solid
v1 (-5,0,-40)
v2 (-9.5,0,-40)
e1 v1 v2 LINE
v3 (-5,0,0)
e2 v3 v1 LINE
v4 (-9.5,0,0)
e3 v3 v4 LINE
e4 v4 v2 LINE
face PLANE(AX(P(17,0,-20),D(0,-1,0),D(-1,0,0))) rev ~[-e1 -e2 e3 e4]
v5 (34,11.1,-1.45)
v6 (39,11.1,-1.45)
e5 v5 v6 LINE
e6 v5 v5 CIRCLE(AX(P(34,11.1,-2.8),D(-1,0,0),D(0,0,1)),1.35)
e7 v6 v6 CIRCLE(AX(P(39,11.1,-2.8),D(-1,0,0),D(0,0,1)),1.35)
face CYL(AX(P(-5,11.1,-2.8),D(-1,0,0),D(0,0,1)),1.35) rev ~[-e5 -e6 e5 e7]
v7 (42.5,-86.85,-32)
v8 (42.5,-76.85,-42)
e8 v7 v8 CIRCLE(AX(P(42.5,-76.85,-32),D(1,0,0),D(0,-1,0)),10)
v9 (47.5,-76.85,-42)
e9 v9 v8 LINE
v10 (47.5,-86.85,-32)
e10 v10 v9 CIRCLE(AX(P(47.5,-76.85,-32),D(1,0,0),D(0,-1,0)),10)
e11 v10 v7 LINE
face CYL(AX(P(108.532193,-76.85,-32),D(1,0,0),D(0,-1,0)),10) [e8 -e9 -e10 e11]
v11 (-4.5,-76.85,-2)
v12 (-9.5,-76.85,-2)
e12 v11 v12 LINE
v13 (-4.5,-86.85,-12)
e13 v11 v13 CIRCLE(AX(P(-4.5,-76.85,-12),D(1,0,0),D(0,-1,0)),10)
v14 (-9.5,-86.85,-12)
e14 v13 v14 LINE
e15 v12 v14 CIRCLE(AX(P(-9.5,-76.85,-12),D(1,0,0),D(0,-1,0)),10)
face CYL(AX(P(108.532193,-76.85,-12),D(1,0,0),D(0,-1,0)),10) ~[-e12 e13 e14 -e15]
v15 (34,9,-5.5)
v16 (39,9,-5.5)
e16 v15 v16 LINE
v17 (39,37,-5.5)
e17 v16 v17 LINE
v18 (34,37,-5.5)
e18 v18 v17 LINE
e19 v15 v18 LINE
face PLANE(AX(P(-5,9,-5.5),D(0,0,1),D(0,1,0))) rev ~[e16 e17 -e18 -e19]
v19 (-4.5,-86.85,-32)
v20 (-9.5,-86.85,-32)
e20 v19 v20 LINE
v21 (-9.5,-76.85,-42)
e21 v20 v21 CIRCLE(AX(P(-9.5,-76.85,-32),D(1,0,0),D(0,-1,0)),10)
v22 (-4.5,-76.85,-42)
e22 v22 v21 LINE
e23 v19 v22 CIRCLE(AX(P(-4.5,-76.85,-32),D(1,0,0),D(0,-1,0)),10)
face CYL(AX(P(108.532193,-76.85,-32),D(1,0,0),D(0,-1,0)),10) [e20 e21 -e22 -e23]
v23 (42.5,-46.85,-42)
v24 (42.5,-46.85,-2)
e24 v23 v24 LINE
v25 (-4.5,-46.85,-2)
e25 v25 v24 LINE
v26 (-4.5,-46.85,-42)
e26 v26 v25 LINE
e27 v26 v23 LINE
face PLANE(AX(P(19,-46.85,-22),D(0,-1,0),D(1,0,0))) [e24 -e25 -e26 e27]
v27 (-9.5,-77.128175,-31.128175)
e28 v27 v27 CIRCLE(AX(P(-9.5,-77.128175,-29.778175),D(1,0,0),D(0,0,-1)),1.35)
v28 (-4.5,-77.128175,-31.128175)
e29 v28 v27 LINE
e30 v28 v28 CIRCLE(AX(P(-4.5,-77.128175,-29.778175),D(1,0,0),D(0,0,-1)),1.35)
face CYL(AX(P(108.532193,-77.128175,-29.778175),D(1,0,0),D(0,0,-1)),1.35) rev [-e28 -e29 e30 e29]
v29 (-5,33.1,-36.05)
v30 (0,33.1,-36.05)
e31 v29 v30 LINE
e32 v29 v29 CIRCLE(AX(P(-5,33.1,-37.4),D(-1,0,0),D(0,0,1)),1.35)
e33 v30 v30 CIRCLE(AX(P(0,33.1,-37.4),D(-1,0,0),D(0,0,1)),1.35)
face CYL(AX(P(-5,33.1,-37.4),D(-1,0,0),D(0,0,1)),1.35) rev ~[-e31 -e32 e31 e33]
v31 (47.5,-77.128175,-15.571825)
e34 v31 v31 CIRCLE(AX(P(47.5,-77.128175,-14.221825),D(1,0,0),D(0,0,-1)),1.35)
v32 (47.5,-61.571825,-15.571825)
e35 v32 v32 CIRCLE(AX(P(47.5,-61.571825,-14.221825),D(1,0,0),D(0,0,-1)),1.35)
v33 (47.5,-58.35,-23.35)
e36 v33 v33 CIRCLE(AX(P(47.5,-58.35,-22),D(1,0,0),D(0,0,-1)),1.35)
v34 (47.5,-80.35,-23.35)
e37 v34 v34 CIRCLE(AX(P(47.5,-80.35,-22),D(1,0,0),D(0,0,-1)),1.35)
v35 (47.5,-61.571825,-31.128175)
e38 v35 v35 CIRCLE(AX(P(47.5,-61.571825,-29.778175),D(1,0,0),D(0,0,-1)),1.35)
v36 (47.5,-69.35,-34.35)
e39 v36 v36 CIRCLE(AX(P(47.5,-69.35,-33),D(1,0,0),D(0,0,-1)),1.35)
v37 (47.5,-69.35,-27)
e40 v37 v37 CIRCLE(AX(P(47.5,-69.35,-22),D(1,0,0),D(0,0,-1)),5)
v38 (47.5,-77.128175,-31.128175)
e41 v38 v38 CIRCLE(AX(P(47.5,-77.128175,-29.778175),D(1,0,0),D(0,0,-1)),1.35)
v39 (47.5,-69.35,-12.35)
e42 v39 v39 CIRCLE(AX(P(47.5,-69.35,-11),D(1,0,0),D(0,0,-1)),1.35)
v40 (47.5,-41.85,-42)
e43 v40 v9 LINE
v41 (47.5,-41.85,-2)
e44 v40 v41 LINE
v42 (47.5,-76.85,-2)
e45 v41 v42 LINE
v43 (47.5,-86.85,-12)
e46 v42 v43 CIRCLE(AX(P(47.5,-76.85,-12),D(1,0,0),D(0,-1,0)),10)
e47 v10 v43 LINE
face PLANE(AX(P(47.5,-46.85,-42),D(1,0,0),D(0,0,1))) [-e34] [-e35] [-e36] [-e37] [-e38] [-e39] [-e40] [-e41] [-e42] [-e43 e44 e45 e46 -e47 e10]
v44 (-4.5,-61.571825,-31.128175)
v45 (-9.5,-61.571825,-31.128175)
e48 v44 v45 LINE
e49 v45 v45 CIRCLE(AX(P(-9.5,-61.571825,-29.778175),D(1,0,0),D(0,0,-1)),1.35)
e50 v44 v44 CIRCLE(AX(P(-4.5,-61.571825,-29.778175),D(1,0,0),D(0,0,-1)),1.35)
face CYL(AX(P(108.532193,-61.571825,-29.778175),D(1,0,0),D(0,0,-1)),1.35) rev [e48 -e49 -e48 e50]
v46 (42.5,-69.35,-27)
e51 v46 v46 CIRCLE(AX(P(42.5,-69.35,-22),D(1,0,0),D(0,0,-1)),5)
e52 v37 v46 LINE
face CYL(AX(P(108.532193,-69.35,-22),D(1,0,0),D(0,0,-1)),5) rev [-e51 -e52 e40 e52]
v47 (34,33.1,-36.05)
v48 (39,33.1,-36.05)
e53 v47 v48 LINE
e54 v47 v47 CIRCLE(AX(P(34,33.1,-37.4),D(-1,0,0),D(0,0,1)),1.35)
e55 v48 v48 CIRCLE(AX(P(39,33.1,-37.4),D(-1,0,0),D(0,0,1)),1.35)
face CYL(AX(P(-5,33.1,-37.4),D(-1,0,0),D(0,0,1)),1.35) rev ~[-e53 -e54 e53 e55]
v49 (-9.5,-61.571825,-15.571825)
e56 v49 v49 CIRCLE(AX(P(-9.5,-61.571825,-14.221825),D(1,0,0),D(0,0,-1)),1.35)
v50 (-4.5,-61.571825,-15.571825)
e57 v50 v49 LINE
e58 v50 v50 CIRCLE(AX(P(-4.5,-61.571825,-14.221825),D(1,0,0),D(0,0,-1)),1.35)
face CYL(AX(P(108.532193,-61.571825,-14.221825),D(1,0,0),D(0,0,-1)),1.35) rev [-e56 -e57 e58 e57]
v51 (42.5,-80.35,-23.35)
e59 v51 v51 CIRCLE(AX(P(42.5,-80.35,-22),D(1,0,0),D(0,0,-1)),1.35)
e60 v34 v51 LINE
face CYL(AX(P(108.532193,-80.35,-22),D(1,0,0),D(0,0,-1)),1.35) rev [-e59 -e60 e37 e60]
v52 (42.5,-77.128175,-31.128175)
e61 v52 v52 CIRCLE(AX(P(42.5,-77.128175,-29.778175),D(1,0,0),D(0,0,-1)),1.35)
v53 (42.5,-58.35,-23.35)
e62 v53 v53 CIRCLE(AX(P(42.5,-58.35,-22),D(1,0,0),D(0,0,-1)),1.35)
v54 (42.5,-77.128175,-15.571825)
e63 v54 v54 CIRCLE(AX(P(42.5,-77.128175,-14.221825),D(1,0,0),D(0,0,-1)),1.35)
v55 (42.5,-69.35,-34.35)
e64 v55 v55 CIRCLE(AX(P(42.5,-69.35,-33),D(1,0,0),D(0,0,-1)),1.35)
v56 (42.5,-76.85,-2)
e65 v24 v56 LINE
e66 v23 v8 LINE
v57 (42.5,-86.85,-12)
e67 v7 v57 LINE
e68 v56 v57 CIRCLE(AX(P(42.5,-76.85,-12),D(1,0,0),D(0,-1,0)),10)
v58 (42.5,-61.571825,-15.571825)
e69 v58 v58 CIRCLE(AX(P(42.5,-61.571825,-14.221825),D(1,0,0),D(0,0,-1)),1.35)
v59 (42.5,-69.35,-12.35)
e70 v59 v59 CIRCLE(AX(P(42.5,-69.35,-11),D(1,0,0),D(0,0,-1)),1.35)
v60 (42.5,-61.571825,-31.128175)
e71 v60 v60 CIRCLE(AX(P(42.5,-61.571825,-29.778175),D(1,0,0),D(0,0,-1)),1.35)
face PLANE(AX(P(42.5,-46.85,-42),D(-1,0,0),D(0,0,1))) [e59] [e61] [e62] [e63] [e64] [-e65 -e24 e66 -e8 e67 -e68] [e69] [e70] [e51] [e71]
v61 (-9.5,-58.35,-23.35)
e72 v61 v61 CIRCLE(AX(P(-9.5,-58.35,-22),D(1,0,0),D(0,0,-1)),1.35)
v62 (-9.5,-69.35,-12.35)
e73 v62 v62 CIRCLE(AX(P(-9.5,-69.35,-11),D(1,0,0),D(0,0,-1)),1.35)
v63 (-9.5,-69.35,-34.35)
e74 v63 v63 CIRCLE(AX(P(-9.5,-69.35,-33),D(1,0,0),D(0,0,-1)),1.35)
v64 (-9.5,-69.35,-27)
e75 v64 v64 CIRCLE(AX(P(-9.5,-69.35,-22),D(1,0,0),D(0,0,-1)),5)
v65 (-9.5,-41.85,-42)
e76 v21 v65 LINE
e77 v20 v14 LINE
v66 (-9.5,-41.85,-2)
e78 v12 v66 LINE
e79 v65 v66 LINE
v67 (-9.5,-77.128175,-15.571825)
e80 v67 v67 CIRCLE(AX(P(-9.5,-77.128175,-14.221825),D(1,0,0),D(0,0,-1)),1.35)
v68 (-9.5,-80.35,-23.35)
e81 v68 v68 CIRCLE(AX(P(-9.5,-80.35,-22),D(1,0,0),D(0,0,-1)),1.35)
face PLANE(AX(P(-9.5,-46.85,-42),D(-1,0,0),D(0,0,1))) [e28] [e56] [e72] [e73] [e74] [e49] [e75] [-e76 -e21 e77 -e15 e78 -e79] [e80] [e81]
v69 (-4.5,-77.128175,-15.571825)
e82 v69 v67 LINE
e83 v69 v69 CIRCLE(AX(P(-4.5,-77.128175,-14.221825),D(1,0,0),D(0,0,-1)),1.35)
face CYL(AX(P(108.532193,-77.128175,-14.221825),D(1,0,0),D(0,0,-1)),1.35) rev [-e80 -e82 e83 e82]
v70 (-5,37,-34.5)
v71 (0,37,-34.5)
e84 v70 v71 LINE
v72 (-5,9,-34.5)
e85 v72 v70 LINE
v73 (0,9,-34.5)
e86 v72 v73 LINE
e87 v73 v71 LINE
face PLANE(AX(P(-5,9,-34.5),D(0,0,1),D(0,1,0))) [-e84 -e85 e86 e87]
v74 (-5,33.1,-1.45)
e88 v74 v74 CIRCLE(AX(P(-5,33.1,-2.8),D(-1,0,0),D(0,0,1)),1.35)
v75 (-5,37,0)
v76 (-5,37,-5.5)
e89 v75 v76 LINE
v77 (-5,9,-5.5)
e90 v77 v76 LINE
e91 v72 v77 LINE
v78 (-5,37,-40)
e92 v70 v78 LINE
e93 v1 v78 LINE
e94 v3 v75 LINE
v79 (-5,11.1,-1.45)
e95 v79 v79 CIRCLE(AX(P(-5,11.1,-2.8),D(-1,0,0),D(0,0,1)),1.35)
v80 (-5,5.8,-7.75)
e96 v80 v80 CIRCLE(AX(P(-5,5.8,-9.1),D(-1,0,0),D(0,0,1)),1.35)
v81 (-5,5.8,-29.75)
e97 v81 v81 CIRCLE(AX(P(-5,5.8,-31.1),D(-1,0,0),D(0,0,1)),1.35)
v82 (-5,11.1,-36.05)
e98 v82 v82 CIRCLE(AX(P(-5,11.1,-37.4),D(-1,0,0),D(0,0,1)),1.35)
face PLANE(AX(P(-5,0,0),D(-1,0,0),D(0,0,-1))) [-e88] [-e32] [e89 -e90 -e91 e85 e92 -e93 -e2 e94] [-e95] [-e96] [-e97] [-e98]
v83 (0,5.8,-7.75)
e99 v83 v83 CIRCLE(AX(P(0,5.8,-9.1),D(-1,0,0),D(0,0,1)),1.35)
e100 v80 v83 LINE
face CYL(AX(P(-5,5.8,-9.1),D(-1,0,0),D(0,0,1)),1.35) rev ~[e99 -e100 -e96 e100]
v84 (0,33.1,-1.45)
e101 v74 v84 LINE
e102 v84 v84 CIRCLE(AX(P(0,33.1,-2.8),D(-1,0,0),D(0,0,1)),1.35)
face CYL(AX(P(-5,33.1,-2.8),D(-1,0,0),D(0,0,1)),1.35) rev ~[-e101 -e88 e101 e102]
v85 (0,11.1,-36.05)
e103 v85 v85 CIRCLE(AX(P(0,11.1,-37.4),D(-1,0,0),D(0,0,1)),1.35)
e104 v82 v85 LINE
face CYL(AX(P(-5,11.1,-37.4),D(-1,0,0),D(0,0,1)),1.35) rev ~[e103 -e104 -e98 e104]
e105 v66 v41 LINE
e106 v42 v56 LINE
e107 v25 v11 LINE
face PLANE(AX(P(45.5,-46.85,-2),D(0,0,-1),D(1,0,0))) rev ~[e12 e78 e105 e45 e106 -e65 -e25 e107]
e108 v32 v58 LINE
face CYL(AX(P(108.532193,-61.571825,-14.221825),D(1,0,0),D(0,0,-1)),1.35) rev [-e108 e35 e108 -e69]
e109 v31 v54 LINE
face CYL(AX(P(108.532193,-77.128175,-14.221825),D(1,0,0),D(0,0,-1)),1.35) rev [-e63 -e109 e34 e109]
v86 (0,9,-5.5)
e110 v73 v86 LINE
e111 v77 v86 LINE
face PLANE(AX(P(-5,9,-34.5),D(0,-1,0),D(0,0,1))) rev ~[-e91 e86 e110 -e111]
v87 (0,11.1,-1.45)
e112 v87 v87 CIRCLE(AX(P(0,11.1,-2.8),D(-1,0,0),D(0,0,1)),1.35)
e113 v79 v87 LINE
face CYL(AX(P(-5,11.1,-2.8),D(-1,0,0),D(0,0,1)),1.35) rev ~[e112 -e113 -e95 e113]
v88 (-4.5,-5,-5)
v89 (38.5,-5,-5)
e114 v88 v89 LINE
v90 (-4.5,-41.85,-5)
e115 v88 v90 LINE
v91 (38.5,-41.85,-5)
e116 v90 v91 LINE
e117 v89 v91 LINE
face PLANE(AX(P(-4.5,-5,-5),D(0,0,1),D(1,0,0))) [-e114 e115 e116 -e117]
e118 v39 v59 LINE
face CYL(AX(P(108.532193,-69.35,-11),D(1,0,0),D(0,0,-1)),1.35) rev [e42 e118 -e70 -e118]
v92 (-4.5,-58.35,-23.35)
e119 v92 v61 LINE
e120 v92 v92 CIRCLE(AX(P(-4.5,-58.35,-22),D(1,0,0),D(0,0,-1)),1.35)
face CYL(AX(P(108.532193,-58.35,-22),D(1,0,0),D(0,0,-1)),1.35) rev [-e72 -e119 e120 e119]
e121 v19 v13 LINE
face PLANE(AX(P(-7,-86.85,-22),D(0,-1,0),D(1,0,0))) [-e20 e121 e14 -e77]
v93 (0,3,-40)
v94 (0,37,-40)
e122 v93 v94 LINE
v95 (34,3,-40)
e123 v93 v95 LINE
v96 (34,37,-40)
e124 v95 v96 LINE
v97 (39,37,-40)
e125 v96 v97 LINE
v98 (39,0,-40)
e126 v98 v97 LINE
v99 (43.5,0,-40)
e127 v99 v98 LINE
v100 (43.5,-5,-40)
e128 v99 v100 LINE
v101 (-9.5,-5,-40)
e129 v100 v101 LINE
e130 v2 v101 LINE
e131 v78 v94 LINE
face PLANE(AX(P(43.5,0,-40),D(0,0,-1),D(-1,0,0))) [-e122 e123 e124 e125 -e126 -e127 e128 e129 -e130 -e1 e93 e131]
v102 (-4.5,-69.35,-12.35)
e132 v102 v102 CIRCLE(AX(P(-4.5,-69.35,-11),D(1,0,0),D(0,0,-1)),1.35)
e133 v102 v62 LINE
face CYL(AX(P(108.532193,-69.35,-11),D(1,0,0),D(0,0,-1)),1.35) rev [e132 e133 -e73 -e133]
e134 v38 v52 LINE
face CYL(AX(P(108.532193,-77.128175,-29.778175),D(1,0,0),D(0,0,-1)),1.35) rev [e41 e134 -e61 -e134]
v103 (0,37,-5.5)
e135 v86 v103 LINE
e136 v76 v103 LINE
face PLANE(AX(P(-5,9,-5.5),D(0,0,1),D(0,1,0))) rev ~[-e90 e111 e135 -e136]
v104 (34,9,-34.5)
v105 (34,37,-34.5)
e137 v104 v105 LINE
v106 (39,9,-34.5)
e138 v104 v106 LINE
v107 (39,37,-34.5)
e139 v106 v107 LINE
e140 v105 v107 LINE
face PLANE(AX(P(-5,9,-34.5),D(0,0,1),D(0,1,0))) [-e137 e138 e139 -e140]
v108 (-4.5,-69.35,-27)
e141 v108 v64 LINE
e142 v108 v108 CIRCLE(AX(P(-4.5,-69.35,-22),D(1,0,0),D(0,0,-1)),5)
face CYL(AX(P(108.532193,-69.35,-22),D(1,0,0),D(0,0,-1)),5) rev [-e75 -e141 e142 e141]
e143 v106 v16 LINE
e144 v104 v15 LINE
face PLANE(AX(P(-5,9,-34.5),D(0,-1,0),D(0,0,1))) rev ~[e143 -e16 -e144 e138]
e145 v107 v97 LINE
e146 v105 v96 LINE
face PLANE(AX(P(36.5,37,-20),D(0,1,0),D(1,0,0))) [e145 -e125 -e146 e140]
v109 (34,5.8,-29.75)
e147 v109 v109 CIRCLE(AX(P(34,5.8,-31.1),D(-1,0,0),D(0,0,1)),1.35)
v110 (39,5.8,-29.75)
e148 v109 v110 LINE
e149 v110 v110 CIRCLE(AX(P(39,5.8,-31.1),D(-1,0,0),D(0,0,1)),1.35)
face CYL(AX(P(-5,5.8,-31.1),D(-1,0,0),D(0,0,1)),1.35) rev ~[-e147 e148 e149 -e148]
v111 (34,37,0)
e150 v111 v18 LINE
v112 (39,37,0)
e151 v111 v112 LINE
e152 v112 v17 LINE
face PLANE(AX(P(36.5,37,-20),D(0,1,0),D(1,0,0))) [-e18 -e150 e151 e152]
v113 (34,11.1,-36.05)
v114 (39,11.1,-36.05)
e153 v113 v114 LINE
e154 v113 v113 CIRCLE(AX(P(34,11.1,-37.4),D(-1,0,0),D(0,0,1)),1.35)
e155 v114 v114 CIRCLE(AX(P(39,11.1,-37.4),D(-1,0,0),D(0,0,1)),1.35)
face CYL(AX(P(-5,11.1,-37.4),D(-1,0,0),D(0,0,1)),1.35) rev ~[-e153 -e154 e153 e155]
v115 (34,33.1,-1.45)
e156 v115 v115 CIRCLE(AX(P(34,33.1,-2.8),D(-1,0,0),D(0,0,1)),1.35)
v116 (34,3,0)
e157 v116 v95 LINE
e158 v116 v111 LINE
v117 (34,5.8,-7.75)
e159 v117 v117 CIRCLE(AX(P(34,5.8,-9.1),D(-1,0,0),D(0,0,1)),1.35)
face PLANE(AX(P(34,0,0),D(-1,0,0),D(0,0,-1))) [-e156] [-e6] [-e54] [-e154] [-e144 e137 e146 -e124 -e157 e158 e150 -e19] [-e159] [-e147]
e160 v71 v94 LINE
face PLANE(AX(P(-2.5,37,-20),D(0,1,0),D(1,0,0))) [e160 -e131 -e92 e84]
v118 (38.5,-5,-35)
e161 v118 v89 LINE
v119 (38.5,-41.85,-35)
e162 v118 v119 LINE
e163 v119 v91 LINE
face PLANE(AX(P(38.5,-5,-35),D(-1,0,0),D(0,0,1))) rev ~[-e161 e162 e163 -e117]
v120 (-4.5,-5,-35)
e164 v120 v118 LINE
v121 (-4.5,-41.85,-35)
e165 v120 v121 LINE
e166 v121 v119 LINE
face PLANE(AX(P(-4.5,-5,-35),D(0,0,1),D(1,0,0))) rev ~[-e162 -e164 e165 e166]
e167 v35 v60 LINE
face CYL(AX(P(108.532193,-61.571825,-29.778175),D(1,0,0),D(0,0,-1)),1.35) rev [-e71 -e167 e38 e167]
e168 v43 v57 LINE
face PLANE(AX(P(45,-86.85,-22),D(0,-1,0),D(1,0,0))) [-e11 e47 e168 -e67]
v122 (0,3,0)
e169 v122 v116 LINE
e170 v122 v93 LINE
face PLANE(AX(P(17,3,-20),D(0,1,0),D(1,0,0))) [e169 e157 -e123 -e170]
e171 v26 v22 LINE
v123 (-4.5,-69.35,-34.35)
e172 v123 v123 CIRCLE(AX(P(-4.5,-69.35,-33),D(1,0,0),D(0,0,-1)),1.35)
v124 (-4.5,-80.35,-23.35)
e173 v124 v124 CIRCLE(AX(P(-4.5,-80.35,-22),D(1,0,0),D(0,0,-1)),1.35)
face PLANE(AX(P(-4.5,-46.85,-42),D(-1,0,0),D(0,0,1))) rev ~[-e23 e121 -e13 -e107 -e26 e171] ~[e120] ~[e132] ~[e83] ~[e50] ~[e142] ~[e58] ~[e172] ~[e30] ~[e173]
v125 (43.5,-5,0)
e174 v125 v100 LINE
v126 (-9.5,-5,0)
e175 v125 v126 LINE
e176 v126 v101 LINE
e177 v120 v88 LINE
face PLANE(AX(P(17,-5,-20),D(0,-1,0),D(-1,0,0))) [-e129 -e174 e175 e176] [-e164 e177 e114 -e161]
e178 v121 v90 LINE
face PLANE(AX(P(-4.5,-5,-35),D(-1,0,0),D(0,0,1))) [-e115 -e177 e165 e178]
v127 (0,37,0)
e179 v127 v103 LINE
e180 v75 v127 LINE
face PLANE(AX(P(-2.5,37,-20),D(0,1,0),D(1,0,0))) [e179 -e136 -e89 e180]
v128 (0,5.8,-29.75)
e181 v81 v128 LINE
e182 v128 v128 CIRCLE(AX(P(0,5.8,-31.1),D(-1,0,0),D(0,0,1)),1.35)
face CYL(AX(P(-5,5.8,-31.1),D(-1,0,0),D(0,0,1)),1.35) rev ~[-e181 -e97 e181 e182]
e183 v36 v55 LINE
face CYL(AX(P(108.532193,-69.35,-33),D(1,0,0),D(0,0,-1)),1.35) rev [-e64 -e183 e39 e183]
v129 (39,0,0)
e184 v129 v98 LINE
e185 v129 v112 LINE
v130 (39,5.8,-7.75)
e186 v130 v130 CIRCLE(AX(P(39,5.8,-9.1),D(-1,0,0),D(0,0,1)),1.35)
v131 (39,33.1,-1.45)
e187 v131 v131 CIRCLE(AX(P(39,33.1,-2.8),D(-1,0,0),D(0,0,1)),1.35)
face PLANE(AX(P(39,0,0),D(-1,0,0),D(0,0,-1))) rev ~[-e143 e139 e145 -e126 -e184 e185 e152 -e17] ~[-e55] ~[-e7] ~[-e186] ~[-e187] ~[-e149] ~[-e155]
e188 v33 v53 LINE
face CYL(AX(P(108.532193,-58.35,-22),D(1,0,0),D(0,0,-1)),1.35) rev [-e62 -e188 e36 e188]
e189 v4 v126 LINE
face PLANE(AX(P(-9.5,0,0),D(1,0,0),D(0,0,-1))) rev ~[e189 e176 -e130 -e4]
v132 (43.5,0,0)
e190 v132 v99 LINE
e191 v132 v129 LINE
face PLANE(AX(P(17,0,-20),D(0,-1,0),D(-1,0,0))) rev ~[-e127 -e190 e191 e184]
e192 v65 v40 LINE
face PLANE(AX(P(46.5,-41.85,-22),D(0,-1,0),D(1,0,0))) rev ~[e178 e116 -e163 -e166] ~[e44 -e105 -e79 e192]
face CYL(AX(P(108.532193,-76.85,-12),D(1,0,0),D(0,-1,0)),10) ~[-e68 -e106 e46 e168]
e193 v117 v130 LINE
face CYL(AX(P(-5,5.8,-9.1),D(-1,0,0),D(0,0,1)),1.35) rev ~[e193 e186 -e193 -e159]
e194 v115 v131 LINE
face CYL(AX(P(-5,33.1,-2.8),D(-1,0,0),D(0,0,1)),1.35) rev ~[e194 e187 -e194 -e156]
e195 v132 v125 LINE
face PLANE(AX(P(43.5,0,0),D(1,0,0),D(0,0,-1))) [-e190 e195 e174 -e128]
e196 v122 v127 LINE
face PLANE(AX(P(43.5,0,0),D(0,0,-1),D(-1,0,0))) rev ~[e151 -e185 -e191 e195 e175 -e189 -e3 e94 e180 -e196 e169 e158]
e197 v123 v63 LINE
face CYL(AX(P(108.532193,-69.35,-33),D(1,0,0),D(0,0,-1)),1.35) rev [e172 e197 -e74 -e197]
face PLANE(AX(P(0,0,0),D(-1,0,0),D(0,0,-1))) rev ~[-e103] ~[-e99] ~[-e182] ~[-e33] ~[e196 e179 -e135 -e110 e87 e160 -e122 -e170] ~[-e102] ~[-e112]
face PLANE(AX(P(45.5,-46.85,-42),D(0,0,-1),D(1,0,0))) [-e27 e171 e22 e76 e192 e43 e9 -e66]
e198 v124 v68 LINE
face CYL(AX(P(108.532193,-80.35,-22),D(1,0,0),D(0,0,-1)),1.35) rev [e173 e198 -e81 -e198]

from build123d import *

# Parameters (mm, degrees)
SKETCH2_W               = 34
SKETCH2_H               = 40
BOSS_EXTRUDE1_DEPTH     = 3
SKETCH3_W               = 5
SKETCH3_H               = 40
BOSS_EXTRUDE2_DEPTH     = 37
CUT_EXTRUDE1_REACH      = 72.036
SKETCH4_R               = 1.35
SKETCH4_W               = 29
SKETCH4_H               = 28
SKETCH5_W               = 53
SKETCH5_H               = 40
BOSS_EXTRUDE3_DEPTH     = 5
SKETCH6_W               = 43
SKETCH6_H               = 30
BOSS_EXTRUDE4_DEPTH     = 36.85
SKETCH7_W               = 53
SKETCH7_H               = 40
BOSS_EXTRUDE5_DEPTH     = 5
SKETCH8_W               = 5
SKETCH8_H               = 40
BOSS_EXTRUDE6_DEPTH     = 40
SKETCH8_3_W             = 2
SKETCH8_3_H             = 40
BOSS_EXTRUDE7_DEPTH     = 5
CUT_EXTRUDE2_DEPTH      = 108.532192854
CUT_EXTRUDE2_DEPTH_BACK = 108.532192854
SKETCH9_R               = 1.35
SKETCH9_R_2             = 5


with BuildPart() as part:
    # Sketch2 → Boss-Extrude1 (new body)
    with BuildSketch(Plane(origin=(0, 0, 0), x_dir=(1, 0, 0), z_dir=(0, 1, 0))):
        with Locations((17, 20)):
            Rectangle(SKETCH2_W, SKETCH2_H)
    extrude(amount=BOSS_EXTRUDE1_DEPTH)

    # Sketch3 → Boss-Extrude2 (add)
    with BuildSketch(Plane(origin=(0, 0, 0), x_dir=(1, 0, 0), z_dir=(0, 1, 0))):
        with Locations((-2.5, 20)):
            Rectangle(SKETCH3_W, SKETCH3_H)
        with Locations((36.5, 20)):
            Rectangle(SKETCH3_W, SKETCH3_H)
    extrude(amount=BOSS_EXTRUDE2_DEPTH)

    # Cut-Extrude1: up to this face of the body (flat: up to its plane)
    cut_extrude1_end = Plane(part.part.faces().sort_by_distance((39, 18.5, -20))[0])
    # Sketch4 → Cut-Extrude1 (cut, up to the picked face)
    with BuildSketch(Plane.ZY.offset(5), mode=Mode.PRIVATE) as cut_extrude1_sk1:
        with Locations((-2.8, 33.1)):
            Circle(SKETCH4_R)
    cut_extrude1_tool1 = split(extrude(cut_extrude1_sk1.sketch, amount=-CUT_EXTRUDE1_REACH, mode=Mode.PRIVATE), bisect_by=cut_extrude1_end, keep=Keep.BOTH, mode=Mode.PRIVATE)
    # Sketch4 → Cut-Extrude1 (cut, up to the picked face)
    with BuildSketch(Plane.ZY.offset(5), mode=Mode.PRIVATE) as cut_extrude1_sk2:
        with Locations((-2.8, 11.1)):
            Circle(SKETCH4_R)
    cut_extrude1_tool2 = split(extrude(cut_extrude1_sk2.sketch, amount=-CUT_EXTRUDE1_REACH, mode=Mode.PRIVATE), bisect_by=cut_extrude1_end, keep=Keep.BOTH, mode=Mode.PRIVATE)
    # Sketch4 → Cut-Extrude1 (cut, up to the picked face)
    with BuildSketch(Plane.ZY.offset(5), mode=Mode.PRIVATE) as cut_extrude1_sk3:
        with Locations((-9.1, 5.8)):
            Circle(SKETCH4_R)
    cut_extrude1_tool3 = split(extrude(cut_extrude1_sk3.sketch, amount=-CUT_EXTRUDE1_REACH, mode=Mode.PRIVATE), bisect_by=cut_extrude1_end, keep=Keep.BOTH, mode=Mode.PRIVATE)
    # Sketch4 → Cut-Extrude1 (cut, up to the picked face)
    with BuildSketch(Plane.ZY.offset(5), mode=Mode.PRIVATE) as cut_extrude1_sk4:
        with Locations((-37.4, 11.1)):
            Circle(SKETCH4_R)
    cut_extrude1_tool4 = split(extrude(cut_extrude1_sk4.sketch, amount=-CUT_EXTRUDE1_REACH, mode=Mode.PRIVATE), bisect_by=cut_extrude1_end, keep=Keep.BOTH, mode=Mode.PRIVATE)
    # Sketch4 → Cut-Extrude1 (cut, up to the picked face)
    with BuildSketch(Plane.ZY.offset(5), mode=Mode.PRIVATE) as cut_extrude1_sk5:
        with Locations((-31.1, 5.8)):
            Circle(SKETCH4_R)
    cut_extrude1_tool5 = split(extrude(cut_extrude1_sk5.sketch, amount=-CUT_EXTRUDE1_REACH, mode=Mode.PRIVATE), bisect_by=cut_extrude1_end, keep=Keep.BOTH, mode=Mode.PRIVATE)
    # Sketch4 → Cut-Extrude1 (cut, up to the picked face)
    with BuildSketch(Plane.ZY.offset(5), mode=Mode.PRIVATE) as cut_extrude1_sk6:
        with Locations((-37.4, 33.1)):
            Circle(SKETCH4_R)
    cut_extrude1_tool6 = split(extrude(cut_extrude1_sk6.sketch, amount=-CUT_EXTRUDE1_REACH, mode=Mode.PRIVATE), bisect_by=cut_extrude1_end, keep=Keep.BOTH, mode=Mode.PRIVATE)
    # Sketch4 → Cut-Extrude1 (cut, up to the picked face)
    with BuildSketch(Plane.ZY.offset(5), mode=Mode.PRIVATE) as cut_extrude1_sk7:
        with Locations((-20, 23)):
            Rectangle(SKETCH4_W, SKETCH4_H)
    cut_extrude1_tool7 = split(extrude(cut_extrude1_sk7.sketch, amount=-CUT_EXTRUDE1_REACH, mode=Mode.PRIVATE), bisect_by=cut_extrude1_end, keep=Keep.BOTH, mode=Mode.PRIVATE)
    add(cut_extrude1_tool1.solids().sort_by(Axis((-5, 33.1, -2.8), (1, 0, 0)))[0], mode=Mode.SUBTRACT)
    add(cut_extrude1_tool2.solids().sort_by(Axis((-5, 11.1, -2.8), (1, 0, 0)))[0], mode=Mode.SUBTRACT)
    add(cut_extrude1_tool3.solids().sort_by(Axis((-5, 5.8, -9.1), (1, 0, 0)))[0], mode=Mode.SUBTRACT)
    add(cut_extrude1_tool4.solids().sort_by(Axis((-5, 11.1, -37.4), (1, 0, 0)))[0], mode=Mode.SUBTRACT)
    add(cut_extrude1_tool5.solids().sort_by(Axis((-5, 5.8, -31.1), (1, 0, 0)))[0], mode=Mode.SUBTRACT)
    add(cut_extrude1_tool6.solids().sort_by(Axis((-5, 33.1, -37.4), (1, 0, 0)))[0], mode=Mode.SUBTRACT)
    add(cut_extrude1_tool7.solids().sort_by(Axis((-5, 23, -20), (1, 0, 0)))[0], mode=Mode.SUBTRACT)

    # Sketch5 → Boss-Extrude3 (add)
    with BuildSketch(Plane(origin=(0, 0, 0), x_dir=(-1, 0, 0), z_dir=(0, -1, 0))):
        with Locations((-17, 20)):
            Rectangle(SKETCH5_W, SKETCH5_H)
    extrude(amount=BOSS_EXTRUDE3_DEPTH)

    # Sketch6 → Boss-Extrude4 (add)
    with BuildSketch(Plane.XZ.offset(5)):
        with Locations((17, -20)):
            Rectangle(SKETCH6_W, SKETCH6_H)
    extrude(amount=BOSS_EXTRUDE4_DEPTH)

    # Sketch7 → Boss-Extrude5 (add)
    with BuildSketch(Plane.XZ.offset(41.85)):
        with Locations((19, -22)):
            Rectangle(SKETCH7_W, SKETCH7_H)
    extrude(amount=BOSS_EXTRUDE5_DEPTH)

    # Sketch8 → Boss-Extrude6 (add)
    with BuildSketch(Plane.XZ.offset(46.85)):
        with Locations((-7, -22)):
            Rectangle(SKETCH8_W, SKETCH8_H)
        with Locations((45, -22)):
            Rectangle(SKETCH8_W, SKETCH8_H)
    extrude(amount=BOSS_EXTRUDE6_DEPTH)

    # Sketch8<3> → Boss-Extrude7 (add)
    with BuildSketch(Plane.XZ.offset(46.85)):
        with Locations((46.5, -22)):
            Rectangle(SKETCH8_3_W, SKETCH8_3_H)
        with Locations((-8.5, -22)):
            Rectangle(SKETCH8_3_W, SKETCH8_3_H)
    extrude(amount=-BOSS_EXTRUDE7_DEPTH)

    # Sketch9 → Cut-Extrude2 (cut, two sides: drawn at the far end of the back side and taken through both)
    with BuildSketch(Plane.ZY.offset(-CUT_EXTRUDE2_DEPTH_BACK)):
        with BuildLine():
            Line((-2, -86.85), (-12, -86.85))
            ThreePointArc((-12, -86.85), (-4.928932188, -83.921067812), (-2, -76.85))
            Line((-2, -76.85), (-2, -86.85))
        make_face()
        with BuildLine():
            ThreePointArc((-32, -86.85), (-39.071067812, -83.921067812), (-42, -76.85))
            Line((-42, -76.85), (-42, -86.85))
            Line((-42, -86.85), (-32, -86.85))
        make_face()
        with Locations(Location((-14.221825407, -77.128174593, 0), (0, 0, 180))):
            Circle(SKETCH9_R)
        with Locations(Location((-22, -80.35, 0), (0, 0, 180))):
            Circle(SKETCH9_R)
        with Locations(Location((-29.778174593, -77.128174593, 0), (0, 0, 180))):
            Circle(SKETCH9_R)
        with Locations(Location((-29.778174593, -61.571825407, 0), (0, 0, 180))):
            Circle(SKETCH9_R)
        with Locations(Location((-33, -69.35, 0), (0, 0, 180))):
            Circle(SKETCH9_R)
        with Locations(Location((-22, -69.35, 0), (0, 0, 180))):
            Circle(SKETCH9_R_2)
        with Locations(Location((-11, -69.35, 0), (0, 0, 180))):
            Circle(SKETCH9_R)
        with Locations(Location((-14.221825407, -61.571825407, 0), (0, 0, 180))):
            Circle(SKETCH9_R)
        with Locations(Location((-22, -58.35, 0), (0, 0, 180))):
            Circle(SKETCH9_R)
    extrude(amount=CUT_EXTRUDE2_DEPTH + CUT_EXTRUDE2_DEPTH_BACK, mode=Mode.SUBTRACT)


solid = part.part
